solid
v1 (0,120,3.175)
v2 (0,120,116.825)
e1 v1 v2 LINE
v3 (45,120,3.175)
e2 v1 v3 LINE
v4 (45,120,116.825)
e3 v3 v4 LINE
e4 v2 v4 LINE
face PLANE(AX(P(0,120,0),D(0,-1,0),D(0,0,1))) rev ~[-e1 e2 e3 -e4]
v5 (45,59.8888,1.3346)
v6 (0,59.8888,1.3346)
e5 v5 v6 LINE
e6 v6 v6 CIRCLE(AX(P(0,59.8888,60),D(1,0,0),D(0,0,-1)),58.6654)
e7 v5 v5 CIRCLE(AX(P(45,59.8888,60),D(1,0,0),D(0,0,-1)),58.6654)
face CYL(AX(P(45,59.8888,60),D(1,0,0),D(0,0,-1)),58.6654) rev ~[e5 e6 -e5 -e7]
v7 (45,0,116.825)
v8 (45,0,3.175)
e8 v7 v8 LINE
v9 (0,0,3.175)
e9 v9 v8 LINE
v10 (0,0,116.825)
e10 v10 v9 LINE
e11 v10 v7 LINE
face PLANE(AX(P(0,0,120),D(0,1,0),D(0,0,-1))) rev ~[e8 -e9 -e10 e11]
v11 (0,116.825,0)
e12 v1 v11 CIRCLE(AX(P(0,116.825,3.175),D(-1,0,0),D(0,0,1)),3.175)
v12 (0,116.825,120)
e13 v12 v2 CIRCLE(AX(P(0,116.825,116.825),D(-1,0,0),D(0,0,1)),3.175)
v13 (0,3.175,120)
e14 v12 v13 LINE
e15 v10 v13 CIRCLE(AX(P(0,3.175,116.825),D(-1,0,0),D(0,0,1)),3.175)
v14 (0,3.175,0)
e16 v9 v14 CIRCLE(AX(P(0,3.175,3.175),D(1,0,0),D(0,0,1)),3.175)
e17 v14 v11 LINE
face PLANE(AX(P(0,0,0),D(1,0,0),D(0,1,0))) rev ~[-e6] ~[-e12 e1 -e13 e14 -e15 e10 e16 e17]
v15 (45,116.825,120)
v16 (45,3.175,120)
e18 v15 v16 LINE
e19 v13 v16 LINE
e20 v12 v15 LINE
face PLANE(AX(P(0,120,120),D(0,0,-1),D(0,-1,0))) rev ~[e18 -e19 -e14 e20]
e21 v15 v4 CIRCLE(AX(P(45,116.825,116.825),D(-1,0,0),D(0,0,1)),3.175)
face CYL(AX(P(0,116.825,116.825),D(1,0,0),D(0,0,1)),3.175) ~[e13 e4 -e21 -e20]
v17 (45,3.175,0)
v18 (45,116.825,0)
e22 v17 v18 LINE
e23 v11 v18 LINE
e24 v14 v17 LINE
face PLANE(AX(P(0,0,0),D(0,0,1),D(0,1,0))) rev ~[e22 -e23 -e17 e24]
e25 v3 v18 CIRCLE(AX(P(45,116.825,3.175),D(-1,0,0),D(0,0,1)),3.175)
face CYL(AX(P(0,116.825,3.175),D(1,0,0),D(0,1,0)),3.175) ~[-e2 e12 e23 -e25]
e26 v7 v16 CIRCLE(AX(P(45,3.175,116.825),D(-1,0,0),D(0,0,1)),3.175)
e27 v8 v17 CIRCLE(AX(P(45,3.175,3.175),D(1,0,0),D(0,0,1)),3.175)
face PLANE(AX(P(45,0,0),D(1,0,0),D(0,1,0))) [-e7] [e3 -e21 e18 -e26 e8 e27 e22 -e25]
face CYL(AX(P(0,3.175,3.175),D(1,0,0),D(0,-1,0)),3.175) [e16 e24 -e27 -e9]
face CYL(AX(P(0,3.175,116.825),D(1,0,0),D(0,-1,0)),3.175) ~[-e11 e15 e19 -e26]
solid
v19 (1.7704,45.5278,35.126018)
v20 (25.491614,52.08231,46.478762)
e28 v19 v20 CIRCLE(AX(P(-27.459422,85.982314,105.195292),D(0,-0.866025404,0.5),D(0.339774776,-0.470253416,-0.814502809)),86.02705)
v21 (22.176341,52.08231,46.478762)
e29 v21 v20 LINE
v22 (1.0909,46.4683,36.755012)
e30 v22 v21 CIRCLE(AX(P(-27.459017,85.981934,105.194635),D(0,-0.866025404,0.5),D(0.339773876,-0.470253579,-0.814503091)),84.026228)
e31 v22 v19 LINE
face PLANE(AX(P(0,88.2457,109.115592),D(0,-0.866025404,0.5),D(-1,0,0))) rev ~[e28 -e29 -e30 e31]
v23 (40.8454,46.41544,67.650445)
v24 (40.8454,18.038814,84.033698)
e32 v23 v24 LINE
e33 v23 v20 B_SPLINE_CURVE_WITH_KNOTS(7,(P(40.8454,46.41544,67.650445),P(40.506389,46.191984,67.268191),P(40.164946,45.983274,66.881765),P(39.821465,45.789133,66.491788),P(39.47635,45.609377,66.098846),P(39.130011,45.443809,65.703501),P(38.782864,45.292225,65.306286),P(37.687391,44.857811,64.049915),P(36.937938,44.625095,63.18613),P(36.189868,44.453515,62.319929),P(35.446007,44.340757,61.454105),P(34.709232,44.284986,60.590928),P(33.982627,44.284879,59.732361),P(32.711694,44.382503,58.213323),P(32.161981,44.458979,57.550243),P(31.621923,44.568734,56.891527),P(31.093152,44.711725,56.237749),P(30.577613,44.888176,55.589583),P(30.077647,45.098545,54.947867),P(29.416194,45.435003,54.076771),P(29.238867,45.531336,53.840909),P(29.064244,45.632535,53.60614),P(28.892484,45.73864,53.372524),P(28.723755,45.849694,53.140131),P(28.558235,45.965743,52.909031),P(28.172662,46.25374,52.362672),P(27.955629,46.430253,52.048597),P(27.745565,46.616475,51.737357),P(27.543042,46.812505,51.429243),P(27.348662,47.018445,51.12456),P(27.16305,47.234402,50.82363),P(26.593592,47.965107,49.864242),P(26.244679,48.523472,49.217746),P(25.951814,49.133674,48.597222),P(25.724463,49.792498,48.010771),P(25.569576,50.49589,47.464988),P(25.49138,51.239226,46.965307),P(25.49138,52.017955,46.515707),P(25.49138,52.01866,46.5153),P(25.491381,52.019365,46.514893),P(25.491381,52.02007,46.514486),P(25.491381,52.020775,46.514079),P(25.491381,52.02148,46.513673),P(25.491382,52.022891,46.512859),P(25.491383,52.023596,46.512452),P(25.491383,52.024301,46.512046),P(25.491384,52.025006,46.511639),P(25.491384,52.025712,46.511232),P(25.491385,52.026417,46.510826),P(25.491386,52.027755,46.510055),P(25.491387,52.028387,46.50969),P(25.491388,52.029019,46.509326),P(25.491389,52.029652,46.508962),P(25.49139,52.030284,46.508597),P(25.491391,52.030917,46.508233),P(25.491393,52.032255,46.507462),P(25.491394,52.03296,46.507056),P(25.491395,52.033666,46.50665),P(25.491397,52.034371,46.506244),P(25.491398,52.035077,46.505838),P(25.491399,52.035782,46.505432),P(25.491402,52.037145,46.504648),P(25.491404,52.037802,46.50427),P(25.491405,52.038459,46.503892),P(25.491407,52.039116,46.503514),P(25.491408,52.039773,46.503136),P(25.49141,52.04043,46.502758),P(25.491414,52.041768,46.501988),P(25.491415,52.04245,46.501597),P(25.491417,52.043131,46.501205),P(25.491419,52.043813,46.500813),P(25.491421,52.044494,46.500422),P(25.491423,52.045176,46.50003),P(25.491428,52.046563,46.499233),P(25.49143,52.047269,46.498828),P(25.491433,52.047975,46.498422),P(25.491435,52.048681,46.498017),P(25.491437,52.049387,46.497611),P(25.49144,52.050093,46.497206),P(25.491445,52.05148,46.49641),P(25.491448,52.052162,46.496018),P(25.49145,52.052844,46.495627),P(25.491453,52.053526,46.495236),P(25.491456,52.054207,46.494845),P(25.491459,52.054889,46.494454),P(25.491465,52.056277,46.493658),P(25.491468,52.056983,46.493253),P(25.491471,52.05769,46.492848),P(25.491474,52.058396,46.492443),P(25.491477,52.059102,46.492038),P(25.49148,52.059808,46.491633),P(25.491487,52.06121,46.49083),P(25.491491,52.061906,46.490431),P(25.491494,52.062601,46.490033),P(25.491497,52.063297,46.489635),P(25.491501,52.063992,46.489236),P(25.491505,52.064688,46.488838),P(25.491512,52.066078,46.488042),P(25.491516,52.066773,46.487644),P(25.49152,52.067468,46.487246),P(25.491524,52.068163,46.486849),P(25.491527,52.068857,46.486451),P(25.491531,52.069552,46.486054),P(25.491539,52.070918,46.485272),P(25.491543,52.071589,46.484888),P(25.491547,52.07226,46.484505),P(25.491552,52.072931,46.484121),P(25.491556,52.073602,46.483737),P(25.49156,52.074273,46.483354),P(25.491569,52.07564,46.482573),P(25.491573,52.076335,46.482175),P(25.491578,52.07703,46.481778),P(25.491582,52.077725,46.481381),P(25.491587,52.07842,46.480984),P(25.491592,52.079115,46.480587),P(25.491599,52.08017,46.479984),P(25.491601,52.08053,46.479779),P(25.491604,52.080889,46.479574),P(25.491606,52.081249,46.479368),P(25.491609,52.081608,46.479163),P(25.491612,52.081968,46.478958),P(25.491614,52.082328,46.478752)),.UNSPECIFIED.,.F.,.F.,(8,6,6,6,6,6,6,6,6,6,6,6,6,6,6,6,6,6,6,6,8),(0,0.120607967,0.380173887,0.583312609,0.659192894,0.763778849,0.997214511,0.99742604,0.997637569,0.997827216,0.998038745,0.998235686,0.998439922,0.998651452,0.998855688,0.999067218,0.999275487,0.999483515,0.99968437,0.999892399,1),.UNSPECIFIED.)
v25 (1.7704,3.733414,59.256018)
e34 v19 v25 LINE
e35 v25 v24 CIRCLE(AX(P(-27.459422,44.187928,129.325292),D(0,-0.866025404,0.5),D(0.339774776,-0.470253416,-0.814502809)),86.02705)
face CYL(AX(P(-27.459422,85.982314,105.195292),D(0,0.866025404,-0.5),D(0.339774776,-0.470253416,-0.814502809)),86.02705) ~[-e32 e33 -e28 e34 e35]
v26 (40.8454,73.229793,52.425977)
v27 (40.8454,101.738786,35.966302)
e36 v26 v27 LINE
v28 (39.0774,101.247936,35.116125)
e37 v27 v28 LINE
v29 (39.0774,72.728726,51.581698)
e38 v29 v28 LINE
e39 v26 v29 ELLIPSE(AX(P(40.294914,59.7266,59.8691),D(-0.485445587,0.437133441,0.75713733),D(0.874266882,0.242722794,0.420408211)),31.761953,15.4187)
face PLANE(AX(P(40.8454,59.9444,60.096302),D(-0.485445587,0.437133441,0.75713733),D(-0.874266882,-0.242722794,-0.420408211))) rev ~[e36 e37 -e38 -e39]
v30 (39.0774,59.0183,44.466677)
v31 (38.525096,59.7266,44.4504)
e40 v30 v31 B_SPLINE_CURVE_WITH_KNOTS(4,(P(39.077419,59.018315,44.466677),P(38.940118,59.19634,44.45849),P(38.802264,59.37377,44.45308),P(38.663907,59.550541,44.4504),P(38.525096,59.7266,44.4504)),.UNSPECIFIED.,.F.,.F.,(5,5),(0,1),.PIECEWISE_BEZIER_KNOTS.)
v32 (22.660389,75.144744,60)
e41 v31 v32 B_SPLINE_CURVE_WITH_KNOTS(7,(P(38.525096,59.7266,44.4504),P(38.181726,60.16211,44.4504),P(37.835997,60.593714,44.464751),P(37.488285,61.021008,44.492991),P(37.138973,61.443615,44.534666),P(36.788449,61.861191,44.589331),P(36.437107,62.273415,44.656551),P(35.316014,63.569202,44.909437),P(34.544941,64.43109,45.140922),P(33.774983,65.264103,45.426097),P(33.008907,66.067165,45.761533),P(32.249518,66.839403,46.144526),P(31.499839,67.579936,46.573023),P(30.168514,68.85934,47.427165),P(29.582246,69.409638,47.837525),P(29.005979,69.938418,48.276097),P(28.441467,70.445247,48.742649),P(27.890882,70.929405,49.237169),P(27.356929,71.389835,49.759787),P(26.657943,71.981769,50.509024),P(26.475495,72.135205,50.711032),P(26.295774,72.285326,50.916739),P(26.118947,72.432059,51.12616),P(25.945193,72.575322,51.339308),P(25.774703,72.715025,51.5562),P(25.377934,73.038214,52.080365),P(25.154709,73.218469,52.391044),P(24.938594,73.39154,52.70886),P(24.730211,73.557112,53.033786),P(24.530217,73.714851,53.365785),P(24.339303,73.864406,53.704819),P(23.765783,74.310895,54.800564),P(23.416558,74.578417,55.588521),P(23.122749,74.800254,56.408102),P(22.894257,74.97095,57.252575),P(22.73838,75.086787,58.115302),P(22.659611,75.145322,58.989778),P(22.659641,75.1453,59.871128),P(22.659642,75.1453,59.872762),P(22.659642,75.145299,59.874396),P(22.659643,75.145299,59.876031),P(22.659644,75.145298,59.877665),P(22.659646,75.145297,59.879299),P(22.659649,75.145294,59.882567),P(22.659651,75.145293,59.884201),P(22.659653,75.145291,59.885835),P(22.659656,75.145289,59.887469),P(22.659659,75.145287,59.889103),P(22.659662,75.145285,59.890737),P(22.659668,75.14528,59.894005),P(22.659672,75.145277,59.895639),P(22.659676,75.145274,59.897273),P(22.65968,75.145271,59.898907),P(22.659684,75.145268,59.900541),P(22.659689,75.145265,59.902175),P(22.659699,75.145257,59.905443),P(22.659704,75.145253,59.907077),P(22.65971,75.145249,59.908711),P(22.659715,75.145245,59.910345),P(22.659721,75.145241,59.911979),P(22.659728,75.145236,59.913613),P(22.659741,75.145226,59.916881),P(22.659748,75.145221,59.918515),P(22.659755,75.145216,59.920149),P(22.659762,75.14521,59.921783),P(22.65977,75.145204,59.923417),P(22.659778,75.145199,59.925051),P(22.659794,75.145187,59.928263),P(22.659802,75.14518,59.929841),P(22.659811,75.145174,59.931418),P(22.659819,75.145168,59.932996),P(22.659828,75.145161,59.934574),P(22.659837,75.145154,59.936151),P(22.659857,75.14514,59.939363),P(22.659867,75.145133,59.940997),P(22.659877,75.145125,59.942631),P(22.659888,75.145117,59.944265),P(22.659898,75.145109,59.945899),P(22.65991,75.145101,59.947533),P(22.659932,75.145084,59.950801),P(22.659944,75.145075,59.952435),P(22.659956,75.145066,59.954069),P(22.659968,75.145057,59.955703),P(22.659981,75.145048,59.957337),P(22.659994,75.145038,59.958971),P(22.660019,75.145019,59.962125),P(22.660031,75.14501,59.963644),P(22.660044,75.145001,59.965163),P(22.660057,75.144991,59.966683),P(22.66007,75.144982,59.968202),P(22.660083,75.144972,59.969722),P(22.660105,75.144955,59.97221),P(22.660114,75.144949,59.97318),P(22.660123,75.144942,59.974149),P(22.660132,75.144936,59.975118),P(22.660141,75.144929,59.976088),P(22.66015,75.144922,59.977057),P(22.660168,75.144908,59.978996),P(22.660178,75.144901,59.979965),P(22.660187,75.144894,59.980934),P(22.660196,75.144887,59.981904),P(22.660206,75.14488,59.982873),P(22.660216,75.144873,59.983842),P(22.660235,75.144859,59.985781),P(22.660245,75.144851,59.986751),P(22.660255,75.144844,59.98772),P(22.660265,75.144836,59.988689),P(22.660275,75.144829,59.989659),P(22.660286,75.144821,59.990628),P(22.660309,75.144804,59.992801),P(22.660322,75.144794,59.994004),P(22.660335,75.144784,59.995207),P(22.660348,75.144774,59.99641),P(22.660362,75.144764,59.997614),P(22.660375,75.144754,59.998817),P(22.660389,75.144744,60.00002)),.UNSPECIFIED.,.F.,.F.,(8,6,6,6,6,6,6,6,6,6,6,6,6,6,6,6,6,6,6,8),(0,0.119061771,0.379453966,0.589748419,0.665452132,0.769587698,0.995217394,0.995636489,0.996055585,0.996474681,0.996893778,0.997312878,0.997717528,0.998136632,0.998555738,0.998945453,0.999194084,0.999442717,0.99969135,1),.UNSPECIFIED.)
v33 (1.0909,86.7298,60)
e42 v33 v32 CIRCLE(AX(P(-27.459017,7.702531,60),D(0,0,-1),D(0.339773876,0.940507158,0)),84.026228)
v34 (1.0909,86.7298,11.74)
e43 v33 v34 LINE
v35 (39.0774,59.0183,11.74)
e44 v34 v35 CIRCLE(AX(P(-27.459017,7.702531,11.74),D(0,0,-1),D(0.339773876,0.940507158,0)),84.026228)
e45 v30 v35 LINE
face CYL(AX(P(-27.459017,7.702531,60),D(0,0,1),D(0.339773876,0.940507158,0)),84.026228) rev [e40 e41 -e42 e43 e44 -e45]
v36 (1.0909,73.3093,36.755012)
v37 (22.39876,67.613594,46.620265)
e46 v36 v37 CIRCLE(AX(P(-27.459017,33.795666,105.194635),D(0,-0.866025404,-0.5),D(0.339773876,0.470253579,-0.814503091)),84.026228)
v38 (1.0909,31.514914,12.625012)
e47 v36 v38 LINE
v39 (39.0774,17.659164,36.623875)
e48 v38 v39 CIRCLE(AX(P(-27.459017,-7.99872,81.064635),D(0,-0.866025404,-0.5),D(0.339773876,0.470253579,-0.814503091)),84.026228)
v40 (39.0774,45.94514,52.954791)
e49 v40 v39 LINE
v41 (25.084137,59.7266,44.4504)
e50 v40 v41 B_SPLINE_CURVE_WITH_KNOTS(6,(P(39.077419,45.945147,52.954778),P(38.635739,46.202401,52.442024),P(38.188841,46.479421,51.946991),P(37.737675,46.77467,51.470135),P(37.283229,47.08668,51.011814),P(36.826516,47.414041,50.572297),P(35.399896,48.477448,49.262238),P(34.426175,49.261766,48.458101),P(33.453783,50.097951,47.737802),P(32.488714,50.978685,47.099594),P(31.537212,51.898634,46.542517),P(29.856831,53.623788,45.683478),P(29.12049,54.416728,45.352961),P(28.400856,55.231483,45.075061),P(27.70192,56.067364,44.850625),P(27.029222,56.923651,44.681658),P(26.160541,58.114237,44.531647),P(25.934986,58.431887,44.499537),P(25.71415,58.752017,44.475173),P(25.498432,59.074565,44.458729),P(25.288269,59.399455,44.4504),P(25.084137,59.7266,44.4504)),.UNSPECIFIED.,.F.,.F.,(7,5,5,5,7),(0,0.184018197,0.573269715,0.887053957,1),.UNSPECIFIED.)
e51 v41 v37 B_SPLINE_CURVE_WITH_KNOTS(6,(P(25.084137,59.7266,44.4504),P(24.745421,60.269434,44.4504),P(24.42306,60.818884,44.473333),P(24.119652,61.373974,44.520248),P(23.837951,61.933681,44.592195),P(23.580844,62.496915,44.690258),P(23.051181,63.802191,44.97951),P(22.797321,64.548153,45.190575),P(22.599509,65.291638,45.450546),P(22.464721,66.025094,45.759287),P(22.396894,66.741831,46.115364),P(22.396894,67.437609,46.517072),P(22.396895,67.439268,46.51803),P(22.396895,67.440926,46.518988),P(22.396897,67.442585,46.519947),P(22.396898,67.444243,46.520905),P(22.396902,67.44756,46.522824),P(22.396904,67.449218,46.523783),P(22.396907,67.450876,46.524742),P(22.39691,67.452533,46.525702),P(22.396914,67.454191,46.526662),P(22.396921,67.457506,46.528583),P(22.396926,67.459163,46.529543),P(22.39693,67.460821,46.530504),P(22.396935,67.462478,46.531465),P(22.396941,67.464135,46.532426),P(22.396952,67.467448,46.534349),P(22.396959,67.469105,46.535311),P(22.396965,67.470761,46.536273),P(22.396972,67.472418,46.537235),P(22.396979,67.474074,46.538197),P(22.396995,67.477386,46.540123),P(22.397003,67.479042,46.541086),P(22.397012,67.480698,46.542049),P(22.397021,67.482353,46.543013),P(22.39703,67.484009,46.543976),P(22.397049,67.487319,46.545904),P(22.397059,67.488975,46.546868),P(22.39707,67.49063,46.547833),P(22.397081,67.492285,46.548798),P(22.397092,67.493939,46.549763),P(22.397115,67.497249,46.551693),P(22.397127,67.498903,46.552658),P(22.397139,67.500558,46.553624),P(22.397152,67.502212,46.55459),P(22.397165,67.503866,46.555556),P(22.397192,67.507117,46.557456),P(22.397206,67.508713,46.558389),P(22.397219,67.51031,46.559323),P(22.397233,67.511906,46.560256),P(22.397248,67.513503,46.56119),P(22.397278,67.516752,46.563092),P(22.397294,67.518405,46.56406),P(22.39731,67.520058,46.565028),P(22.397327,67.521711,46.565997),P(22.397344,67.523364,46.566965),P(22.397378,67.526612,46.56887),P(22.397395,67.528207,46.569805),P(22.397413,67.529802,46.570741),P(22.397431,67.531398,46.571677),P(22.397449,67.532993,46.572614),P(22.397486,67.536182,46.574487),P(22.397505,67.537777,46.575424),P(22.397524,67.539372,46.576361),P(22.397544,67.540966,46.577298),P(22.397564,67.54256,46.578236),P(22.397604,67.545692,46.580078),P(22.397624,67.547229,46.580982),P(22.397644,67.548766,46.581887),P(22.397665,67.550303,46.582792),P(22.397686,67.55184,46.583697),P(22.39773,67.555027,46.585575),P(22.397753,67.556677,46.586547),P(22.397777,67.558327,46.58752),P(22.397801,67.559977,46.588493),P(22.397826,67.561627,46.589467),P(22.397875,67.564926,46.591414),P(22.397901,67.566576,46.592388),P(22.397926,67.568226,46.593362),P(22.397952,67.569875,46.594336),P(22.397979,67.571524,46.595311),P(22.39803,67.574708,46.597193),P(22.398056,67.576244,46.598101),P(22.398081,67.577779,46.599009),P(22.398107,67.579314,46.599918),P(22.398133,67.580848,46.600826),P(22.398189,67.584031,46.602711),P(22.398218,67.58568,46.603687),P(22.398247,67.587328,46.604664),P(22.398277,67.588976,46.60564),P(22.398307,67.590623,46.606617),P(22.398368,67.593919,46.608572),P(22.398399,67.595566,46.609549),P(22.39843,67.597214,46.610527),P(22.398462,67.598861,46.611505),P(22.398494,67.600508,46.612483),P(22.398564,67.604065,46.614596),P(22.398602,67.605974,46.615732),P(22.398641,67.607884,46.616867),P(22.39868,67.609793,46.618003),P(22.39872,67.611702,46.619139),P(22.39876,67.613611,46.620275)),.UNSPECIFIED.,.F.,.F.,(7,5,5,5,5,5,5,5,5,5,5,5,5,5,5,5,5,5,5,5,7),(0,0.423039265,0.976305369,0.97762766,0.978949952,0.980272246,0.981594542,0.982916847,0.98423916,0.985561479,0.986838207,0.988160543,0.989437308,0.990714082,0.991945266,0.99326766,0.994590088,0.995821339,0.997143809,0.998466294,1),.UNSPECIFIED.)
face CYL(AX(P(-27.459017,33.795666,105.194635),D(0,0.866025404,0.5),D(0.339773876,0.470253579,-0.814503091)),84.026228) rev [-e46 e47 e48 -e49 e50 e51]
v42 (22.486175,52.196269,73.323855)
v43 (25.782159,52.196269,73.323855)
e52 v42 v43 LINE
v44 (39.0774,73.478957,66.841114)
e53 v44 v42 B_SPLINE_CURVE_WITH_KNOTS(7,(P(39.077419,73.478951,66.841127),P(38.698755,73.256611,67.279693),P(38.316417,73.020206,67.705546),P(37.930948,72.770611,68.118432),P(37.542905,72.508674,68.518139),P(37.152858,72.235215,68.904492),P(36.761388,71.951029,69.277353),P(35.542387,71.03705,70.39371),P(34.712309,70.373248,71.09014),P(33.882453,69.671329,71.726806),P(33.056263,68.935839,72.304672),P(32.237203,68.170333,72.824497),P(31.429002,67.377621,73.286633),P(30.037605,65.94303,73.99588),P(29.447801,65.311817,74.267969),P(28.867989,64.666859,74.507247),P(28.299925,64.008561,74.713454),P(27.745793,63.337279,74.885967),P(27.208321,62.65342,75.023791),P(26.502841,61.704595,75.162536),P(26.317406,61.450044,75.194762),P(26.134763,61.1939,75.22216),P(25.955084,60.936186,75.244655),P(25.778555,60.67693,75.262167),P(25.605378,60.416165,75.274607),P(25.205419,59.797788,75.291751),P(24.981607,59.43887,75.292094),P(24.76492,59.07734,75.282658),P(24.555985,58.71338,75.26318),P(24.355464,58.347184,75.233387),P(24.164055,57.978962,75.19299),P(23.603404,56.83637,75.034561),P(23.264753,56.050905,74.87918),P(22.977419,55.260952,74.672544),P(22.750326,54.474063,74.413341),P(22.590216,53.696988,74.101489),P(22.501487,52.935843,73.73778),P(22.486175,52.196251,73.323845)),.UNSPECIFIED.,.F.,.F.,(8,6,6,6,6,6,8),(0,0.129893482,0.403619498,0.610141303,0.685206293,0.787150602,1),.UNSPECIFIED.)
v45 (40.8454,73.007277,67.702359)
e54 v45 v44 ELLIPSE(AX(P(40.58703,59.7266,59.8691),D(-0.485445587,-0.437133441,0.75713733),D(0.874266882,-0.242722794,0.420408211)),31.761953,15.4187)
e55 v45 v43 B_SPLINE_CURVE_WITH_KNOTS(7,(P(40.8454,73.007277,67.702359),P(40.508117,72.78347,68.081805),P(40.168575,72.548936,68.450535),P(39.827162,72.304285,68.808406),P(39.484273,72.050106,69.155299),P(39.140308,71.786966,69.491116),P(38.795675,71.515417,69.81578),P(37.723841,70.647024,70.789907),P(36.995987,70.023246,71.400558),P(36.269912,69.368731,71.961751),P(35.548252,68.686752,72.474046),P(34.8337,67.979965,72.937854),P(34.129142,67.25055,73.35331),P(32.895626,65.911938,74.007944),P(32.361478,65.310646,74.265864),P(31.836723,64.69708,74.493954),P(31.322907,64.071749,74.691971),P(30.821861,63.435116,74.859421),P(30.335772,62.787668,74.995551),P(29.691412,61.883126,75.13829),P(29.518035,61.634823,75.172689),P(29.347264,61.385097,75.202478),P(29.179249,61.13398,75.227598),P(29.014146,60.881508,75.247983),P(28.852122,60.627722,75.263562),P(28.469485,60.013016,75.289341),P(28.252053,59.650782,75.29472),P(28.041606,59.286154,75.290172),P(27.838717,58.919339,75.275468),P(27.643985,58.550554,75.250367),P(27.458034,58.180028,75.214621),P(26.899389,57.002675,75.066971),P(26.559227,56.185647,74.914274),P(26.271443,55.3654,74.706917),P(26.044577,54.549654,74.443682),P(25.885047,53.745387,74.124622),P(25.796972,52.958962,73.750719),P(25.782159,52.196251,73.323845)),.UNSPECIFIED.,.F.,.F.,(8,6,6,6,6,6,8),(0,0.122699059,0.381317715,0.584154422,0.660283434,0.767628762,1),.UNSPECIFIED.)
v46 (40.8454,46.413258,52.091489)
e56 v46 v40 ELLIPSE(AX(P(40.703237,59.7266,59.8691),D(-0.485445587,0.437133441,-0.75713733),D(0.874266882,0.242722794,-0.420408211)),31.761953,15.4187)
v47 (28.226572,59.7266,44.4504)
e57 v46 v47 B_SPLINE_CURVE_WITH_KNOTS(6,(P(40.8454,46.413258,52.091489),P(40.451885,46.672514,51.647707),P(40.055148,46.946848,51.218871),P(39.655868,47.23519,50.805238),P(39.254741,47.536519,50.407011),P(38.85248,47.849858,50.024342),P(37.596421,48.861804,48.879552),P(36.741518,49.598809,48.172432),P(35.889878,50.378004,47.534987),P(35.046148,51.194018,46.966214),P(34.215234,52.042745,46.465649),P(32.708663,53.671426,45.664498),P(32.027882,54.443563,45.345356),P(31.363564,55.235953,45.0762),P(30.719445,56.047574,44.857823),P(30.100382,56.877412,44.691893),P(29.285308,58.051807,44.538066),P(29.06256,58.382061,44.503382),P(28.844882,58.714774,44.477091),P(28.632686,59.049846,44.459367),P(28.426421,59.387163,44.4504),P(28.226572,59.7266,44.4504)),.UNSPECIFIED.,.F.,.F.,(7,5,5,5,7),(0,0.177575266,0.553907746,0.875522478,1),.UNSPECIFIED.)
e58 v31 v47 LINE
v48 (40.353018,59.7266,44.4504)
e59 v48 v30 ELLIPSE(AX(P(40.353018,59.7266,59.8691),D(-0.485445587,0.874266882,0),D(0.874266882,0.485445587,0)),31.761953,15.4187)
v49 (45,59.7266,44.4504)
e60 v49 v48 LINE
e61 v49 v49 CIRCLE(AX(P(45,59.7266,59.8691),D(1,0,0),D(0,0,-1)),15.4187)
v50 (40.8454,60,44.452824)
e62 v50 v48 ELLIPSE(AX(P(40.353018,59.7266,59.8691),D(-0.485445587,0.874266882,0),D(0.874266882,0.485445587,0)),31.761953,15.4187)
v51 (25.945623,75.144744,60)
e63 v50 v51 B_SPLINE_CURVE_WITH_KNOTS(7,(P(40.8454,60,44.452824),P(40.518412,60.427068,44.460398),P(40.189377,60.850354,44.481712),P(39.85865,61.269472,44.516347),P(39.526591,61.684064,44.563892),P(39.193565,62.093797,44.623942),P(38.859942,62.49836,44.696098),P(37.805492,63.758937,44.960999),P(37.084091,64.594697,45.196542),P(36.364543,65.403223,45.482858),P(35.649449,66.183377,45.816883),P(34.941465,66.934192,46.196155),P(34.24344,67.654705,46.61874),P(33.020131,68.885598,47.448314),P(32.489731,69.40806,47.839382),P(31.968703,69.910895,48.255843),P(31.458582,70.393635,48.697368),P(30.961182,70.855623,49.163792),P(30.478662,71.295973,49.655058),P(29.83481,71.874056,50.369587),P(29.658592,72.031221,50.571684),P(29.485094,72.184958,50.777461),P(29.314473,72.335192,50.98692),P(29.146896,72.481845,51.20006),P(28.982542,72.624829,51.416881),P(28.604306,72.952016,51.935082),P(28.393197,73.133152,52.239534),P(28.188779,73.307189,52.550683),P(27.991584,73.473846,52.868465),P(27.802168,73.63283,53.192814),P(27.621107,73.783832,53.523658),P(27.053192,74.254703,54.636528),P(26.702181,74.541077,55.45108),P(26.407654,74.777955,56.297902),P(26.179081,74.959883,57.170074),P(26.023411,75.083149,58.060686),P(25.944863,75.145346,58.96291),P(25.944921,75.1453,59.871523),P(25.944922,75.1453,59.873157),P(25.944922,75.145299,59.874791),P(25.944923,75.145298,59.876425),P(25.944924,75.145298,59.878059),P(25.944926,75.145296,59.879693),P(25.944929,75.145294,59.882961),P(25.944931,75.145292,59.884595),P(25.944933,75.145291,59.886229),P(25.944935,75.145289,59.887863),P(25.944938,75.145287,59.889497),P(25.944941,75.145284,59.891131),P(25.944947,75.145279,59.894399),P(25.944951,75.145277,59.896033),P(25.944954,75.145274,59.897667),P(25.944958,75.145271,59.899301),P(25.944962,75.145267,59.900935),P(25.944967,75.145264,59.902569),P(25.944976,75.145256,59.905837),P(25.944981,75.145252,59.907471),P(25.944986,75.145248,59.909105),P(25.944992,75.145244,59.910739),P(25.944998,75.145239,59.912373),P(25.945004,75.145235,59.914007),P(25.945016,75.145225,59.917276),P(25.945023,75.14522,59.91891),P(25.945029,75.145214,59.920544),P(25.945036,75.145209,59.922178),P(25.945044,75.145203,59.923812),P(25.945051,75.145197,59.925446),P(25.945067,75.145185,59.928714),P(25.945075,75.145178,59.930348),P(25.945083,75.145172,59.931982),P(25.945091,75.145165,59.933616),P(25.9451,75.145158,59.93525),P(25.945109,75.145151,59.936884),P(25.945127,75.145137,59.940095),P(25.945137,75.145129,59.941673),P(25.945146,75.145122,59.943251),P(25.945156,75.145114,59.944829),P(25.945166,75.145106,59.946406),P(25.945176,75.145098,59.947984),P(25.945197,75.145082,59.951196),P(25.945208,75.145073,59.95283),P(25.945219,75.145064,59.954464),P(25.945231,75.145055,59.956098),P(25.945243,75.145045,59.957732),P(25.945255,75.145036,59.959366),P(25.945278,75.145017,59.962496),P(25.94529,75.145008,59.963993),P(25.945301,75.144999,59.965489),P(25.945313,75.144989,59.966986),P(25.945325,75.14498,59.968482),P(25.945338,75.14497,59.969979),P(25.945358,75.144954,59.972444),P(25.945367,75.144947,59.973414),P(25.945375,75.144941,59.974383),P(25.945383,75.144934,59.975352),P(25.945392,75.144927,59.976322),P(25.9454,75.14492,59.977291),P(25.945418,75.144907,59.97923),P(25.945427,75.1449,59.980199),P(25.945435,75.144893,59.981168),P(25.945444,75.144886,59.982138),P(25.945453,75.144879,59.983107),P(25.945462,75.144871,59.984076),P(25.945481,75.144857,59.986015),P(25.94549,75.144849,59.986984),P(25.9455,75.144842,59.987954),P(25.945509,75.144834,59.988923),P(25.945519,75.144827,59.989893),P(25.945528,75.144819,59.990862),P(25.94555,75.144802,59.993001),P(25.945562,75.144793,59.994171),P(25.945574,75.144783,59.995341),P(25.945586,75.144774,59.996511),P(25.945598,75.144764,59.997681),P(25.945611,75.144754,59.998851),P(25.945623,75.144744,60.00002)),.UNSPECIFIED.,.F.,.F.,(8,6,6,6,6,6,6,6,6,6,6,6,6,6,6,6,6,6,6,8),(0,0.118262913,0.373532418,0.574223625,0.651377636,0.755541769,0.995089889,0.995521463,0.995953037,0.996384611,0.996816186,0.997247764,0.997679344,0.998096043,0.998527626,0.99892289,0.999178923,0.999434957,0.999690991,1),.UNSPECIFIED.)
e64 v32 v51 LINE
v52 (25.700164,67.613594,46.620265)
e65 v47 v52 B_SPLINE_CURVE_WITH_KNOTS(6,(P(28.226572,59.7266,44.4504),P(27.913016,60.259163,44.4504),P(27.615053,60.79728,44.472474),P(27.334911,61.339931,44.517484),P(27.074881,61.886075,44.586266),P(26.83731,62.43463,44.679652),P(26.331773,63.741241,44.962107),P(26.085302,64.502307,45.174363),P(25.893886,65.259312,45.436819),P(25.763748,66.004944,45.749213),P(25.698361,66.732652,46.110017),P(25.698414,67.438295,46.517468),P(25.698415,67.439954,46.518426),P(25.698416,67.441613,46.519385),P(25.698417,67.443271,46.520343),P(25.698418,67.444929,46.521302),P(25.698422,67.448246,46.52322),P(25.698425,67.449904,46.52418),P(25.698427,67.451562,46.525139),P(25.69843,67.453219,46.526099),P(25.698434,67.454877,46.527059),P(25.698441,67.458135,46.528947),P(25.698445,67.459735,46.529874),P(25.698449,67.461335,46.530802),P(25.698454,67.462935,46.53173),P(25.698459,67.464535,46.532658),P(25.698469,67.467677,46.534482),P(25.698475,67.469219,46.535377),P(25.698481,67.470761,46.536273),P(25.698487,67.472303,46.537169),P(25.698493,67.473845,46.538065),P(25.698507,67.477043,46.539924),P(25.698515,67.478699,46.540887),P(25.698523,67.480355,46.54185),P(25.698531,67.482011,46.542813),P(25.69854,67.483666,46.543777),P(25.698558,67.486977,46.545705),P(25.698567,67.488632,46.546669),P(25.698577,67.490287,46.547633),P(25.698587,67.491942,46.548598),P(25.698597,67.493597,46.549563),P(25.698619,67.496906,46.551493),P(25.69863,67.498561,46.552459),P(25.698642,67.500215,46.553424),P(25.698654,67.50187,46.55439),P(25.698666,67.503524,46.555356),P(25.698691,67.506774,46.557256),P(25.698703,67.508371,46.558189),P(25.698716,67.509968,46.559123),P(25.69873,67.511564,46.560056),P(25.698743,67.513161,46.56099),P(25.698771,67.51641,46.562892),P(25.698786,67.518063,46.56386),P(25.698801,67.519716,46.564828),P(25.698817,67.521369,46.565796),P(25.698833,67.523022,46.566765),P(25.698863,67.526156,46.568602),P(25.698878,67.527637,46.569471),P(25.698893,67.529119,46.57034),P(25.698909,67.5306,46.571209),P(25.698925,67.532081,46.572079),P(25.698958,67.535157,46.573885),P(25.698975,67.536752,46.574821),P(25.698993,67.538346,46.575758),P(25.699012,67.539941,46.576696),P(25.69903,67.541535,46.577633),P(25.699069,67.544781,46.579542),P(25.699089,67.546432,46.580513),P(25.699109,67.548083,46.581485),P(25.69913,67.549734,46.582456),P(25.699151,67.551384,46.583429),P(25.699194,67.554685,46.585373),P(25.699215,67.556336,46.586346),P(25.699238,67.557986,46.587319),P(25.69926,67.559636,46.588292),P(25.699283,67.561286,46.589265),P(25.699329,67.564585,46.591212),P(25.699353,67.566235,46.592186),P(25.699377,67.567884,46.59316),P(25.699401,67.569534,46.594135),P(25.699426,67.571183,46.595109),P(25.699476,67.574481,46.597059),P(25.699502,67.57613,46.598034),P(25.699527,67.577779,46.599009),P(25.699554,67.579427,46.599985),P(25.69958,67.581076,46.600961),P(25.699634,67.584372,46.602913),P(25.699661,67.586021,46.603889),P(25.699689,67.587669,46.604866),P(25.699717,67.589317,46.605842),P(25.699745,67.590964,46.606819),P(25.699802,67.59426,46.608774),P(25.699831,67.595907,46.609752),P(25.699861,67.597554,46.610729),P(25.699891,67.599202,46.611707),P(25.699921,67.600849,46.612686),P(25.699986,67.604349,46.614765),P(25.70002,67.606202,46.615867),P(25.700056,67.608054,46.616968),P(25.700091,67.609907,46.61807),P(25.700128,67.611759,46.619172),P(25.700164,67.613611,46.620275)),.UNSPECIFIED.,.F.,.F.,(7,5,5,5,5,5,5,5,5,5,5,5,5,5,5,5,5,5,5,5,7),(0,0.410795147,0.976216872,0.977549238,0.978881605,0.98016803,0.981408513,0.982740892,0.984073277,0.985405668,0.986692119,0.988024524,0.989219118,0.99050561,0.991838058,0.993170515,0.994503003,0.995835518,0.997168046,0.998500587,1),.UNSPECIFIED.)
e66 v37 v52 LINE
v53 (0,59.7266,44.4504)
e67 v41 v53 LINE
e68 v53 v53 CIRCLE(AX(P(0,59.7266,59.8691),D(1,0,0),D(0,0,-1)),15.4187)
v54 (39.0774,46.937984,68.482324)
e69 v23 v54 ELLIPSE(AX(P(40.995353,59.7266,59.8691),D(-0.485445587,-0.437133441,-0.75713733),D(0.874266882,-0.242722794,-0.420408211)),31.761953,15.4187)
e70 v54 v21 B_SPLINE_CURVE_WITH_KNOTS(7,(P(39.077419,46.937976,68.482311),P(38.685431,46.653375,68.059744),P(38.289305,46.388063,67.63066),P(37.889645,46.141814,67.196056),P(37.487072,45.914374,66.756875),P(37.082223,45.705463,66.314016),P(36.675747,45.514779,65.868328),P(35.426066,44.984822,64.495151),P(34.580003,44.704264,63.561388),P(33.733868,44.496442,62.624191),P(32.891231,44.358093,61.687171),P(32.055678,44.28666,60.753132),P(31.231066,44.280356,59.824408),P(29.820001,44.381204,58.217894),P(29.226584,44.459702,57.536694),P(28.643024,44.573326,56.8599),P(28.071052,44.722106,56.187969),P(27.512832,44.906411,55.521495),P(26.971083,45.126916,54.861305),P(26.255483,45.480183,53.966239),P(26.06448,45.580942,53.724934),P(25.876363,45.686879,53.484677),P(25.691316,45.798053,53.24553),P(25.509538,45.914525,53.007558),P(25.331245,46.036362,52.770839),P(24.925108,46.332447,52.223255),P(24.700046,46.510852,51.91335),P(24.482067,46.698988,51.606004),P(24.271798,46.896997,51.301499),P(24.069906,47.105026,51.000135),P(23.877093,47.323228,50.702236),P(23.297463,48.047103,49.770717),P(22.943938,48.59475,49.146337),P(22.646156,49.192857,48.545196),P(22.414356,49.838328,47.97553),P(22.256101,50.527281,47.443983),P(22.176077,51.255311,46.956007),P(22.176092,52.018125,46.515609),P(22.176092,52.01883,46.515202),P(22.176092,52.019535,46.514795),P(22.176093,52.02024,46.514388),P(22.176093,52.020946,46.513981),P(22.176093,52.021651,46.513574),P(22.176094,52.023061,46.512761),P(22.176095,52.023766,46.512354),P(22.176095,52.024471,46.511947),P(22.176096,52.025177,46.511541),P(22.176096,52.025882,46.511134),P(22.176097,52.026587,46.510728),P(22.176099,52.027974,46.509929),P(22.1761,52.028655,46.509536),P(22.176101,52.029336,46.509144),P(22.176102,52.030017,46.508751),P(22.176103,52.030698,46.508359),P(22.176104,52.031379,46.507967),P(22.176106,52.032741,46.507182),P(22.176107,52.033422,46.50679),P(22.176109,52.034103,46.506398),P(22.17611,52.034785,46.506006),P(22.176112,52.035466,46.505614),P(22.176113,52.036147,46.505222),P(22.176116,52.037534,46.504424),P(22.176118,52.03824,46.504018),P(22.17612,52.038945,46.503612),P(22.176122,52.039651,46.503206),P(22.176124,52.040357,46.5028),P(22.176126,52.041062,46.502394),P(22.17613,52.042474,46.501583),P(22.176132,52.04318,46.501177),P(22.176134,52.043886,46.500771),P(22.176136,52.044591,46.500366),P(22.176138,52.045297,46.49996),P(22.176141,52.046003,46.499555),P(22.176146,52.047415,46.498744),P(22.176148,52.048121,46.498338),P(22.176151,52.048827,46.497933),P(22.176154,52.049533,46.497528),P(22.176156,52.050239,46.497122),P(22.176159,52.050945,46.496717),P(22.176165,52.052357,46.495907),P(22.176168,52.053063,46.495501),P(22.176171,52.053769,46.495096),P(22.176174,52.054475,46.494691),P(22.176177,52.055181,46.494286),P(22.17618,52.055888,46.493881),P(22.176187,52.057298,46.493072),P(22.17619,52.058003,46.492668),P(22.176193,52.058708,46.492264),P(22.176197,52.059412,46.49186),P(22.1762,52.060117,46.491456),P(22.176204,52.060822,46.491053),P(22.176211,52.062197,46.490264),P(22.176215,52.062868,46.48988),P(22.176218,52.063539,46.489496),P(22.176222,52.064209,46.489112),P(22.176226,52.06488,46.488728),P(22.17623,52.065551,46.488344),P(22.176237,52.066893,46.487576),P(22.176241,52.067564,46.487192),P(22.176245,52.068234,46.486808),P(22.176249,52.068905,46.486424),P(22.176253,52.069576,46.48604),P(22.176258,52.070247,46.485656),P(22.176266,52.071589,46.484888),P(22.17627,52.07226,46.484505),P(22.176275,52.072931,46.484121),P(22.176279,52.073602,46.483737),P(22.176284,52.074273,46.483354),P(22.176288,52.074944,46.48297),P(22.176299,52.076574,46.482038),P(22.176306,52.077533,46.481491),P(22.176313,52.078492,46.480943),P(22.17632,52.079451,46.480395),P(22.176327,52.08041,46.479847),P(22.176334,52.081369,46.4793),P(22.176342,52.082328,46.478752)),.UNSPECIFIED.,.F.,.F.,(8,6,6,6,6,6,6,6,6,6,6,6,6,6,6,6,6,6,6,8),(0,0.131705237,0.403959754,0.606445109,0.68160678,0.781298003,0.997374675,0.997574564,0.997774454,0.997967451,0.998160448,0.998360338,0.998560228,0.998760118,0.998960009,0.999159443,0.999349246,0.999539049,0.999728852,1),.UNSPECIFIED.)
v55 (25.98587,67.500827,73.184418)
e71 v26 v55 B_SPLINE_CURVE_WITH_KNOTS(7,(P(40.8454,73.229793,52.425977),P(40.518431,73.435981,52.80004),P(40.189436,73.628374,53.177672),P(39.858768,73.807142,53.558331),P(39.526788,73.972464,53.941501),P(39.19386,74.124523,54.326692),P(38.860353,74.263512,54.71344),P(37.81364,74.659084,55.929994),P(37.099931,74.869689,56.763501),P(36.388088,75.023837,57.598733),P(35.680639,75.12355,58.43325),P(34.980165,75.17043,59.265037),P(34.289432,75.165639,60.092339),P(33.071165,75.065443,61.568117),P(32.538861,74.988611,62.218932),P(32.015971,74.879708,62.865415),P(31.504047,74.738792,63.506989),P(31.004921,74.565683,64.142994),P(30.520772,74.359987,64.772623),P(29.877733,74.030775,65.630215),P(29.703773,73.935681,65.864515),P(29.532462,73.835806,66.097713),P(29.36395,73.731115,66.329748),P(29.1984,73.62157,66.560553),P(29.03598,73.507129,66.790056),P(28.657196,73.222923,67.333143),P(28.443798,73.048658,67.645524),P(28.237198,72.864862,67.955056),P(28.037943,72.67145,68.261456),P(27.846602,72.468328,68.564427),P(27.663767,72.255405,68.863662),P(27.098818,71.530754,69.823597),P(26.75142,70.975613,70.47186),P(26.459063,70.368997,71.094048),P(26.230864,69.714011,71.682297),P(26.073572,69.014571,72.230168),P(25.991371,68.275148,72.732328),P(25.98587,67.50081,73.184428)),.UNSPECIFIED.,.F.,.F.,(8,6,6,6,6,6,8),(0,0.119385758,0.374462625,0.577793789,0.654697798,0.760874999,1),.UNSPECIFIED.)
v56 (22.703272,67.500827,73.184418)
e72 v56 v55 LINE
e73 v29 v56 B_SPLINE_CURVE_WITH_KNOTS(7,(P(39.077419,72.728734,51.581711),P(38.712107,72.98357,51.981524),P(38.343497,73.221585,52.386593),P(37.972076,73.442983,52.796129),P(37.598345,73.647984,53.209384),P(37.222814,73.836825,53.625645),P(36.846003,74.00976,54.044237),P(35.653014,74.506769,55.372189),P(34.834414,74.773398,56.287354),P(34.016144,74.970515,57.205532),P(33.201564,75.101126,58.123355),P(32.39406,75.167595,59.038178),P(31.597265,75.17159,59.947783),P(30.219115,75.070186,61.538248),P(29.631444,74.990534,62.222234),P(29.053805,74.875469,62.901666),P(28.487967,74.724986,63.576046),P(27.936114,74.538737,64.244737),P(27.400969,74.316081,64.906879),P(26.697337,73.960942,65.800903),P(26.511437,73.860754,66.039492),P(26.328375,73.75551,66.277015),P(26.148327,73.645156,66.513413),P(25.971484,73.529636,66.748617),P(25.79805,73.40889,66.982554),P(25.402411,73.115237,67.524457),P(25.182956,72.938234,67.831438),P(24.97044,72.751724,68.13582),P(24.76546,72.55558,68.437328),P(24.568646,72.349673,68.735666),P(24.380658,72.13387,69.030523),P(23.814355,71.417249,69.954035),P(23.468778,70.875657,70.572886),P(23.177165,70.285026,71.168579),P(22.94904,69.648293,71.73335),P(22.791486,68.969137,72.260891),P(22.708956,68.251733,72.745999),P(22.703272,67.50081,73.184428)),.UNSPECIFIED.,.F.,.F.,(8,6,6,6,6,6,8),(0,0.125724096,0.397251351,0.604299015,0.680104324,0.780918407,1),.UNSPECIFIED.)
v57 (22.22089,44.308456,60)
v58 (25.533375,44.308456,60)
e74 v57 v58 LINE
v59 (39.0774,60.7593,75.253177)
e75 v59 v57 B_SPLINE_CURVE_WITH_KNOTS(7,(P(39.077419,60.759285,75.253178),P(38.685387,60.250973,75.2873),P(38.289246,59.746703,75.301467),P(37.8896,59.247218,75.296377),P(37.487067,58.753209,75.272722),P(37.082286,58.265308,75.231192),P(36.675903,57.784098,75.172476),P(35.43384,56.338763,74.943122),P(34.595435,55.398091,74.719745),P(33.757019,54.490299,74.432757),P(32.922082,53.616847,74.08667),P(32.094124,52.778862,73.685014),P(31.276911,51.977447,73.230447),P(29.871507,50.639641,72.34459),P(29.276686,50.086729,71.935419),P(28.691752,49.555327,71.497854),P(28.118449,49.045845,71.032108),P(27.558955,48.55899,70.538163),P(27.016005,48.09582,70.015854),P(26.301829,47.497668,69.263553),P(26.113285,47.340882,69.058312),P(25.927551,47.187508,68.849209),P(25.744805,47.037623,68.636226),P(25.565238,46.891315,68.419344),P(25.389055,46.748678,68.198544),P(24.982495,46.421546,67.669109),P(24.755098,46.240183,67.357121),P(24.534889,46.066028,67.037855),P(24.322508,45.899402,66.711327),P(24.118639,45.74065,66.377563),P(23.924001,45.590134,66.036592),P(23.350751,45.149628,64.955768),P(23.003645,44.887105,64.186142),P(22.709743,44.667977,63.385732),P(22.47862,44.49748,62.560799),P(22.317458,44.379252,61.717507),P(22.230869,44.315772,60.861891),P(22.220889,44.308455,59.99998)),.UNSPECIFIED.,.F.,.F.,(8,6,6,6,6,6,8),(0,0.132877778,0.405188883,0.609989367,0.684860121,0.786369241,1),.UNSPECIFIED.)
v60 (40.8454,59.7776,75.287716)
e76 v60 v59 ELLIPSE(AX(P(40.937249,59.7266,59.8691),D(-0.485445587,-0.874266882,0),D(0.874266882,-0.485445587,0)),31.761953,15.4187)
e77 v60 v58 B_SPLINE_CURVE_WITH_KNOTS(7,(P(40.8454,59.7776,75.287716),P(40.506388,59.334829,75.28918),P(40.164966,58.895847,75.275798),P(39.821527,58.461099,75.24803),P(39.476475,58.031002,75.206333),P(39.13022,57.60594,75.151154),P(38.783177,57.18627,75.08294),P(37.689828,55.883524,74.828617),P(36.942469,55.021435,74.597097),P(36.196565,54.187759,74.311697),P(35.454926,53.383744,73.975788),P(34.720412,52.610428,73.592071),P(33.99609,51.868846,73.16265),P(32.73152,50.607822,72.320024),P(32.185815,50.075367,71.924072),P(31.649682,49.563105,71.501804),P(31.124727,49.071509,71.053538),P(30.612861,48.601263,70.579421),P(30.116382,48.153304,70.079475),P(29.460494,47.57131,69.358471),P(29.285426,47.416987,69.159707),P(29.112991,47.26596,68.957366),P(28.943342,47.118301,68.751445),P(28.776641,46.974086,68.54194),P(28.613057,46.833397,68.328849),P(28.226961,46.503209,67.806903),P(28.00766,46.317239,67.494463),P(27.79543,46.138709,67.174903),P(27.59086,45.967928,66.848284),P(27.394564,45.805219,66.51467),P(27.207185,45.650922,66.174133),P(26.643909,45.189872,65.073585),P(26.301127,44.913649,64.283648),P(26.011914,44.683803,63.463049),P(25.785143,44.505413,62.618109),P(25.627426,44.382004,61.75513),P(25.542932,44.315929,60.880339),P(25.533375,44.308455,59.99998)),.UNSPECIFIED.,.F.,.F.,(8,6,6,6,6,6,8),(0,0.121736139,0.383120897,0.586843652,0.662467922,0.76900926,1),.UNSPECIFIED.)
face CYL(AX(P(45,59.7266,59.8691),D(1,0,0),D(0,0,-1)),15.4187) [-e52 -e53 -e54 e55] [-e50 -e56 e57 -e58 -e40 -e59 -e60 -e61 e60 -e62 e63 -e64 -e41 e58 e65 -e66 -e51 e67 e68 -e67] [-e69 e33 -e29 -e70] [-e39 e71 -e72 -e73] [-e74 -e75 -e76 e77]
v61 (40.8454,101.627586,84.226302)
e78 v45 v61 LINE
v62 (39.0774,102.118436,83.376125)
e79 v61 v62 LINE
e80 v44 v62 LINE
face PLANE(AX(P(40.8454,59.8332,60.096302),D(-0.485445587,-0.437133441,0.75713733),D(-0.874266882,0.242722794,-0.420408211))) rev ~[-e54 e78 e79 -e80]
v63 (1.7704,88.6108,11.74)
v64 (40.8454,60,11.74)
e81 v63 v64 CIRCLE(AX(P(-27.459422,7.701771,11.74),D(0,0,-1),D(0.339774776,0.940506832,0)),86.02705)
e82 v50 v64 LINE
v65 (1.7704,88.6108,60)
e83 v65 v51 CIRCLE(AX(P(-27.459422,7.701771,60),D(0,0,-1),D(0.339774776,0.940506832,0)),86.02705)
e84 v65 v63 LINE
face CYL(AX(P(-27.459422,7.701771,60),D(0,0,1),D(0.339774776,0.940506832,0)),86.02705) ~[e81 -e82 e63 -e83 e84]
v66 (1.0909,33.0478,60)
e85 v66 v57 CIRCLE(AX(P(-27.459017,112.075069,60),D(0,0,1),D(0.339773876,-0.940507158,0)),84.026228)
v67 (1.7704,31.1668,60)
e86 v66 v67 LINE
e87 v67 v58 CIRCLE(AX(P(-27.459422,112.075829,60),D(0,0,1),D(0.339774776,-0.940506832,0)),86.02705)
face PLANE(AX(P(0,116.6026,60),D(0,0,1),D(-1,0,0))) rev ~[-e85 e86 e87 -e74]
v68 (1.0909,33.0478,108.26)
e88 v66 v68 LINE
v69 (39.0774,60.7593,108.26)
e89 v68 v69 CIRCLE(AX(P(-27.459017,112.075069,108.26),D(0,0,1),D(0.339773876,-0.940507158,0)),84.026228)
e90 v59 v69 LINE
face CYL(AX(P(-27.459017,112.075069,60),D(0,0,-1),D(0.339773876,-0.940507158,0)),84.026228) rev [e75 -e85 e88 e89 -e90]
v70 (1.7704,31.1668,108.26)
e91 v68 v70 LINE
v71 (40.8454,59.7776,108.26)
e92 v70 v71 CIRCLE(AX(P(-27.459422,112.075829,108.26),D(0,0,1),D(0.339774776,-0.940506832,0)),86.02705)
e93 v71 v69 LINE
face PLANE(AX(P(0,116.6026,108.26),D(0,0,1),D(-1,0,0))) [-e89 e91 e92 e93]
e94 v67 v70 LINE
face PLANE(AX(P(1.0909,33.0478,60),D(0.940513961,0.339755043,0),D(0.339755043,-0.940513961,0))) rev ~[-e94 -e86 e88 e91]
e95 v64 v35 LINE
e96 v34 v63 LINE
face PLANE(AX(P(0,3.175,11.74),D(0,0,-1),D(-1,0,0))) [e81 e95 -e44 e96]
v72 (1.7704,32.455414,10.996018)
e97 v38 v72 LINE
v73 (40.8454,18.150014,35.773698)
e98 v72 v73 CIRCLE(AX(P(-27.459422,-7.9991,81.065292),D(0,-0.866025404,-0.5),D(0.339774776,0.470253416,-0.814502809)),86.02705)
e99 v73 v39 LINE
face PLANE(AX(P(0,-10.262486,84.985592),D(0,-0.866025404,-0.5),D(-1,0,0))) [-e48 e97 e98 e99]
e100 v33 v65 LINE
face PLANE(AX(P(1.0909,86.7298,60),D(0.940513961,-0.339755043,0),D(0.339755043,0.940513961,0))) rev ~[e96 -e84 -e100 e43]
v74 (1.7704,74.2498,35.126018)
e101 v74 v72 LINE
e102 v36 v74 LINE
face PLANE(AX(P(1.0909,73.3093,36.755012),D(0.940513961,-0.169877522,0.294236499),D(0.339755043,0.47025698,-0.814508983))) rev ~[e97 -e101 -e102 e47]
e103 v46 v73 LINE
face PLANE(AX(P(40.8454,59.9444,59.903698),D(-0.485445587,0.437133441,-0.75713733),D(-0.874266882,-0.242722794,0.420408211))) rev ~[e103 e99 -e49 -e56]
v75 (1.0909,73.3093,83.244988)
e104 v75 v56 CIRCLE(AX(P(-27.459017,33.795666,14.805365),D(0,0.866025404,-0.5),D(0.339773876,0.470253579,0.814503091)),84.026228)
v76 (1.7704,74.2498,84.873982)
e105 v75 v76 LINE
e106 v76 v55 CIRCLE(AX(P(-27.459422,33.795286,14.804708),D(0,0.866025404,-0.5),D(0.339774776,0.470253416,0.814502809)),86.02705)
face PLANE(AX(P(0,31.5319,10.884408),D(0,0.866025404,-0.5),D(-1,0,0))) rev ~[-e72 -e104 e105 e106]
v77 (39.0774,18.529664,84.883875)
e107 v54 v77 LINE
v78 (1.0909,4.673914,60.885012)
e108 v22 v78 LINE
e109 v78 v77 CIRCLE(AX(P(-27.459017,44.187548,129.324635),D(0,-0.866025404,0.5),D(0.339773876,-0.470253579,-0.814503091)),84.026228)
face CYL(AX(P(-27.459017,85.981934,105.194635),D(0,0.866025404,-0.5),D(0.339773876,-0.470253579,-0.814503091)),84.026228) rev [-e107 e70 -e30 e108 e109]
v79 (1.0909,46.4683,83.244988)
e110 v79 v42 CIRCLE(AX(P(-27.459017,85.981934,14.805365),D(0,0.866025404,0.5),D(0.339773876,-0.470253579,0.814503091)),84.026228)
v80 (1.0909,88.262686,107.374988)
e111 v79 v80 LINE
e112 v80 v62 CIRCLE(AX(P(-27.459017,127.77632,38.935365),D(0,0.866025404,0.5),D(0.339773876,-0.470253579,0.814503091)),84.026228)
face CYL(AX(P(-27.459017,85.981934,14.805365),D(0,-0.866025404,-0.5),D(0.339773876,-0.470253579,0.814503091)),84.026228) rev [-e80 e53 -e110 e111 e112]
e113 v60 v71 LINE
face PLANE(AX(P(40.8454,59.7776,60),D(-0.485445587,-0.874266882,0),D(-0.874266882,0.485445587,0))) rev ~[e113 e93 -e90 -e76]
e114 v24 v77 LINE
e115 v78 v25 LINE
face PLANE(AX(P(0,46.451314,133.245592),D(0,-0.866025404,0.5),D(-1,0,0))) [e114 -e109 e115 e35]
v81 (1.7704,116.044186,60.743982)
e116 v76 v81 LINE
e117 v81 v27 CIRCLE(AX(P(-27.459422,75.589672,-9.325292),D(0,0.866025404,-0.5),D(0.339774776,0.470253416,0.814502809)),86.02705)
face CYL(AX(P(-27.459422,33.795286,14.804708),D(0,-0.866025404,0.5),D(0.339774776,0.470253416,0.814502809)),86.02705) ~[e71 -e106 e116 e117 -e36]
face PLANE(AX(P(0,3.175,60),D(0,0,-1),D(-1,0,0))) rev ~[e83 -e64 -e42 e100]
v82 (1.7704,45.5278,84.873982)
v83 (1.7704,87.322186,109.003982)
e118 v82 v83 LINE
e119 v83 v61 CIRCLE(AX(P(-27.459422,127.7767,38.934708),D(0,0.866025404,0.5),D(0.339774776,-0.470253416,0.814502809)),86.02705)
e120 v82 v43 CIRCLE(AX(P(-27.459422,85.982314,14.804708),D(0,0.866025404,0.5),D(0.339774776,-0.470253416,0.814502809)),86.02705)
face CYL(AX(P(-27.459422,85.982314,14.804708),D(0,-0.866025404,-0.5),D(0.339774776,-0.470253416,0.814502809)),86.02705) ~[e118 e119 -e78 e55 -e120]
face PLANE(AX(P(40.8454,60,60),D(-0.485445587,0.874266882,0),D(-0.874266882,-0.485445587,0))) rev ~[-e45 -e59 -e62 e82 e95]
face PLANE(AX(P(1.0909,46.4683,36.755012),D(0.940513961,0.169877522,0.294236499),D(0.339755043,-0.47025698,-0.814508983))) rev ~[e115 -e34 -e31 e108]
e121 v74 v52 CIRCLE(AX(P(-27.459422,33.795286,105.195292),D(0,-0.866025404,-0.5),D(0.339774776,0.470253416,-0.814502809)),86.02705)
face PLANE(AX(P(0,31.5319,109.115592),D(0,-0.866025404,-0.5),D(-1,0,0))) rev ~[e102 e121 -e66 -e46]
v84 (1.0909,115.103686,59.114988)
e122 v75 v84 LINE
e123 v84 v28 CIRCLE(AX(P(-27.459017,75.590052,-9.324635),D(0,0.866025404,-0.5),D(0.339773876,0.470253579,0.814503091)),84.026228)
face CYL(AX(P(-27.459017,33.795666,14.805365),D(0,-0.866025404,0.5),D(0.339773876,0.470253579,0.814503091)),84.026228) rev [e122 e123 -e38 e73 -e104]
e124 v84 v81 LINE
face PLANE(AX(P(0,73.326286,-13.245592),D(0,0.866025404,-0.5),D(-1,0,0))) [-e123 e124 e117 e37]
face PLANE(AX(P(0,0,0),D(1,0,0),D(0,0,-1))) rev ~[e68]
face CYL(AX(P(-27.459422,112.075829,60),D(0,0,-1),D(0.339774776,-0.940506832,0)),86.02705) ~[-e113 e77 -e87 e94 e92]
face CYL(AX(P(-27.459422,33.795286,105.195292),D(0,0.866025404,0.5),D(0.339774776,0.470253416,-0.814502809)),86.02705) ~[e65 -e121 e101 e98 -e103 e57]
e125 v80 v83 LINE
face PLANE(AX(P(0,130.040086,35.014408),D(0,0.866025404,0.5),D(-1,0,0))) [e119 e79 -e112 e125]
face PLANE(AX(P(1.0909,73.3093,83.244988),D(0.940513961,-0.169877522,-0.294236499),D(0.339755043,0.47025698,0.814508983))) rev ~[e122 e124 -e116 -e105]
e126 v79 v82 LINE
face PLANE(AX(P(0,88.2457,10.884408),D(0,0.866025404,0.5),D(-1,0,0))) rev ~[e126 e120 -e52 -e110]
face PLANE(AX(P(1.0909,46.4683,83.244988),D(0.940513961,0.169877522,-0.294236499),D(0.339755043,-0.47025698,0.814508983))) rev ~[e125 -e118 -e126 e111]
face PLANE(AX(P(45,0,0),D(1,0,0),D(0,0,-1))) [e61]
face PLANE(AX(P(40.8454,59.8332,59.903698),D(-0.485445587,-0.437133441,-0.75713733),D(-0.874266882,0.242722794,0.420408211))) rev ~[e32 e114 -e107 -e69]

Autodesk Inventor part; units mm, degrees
ref_plane "YZ Plane" through (0, 0, 0) normal (1, 0, 0) x (0, 1, 0)
ref_plane "XZ Plane" through (0, 0, 0) normal (0, 1, 0) x (-1, 0, 0)
ref_plane "XY Plane" through (0, 0, 0) normal (0, 0, 1) x (1, 0, 0)
sketch "Sketch1" plane through (0, 0, 0) normal (1, 0, 0) x (0, 1, 0)
  line L0 (0, 0) -> (120, 0)
  line L1 (120, 0) -> (120, 120)
  line L2 (120, 120) -> (0, 120)
  line L3 (0, 120) -> (0, 0)
  dimension "d0" = 120
  dimension "d1" = 120
extrude "Extrusion1" add sketch "Sketch1" along normal blind 45
fillet "Fillet1" radius 3.175 4 edges at (22.5, 120, 120) (22.5, 120, 0) (22.5, 0, 120) (22.5, 0, 0)
sketch "Sketch2" plane through (45, 0, 0) normal (1, 0, 0) x (0, 0, -1)
  line L0 (-60, 60) -> (-60, 59.8888)
  circle A0 centre (-60, 59.8888) radius 58.6654
  point P0 (0, 0)
extrude "Extrusion2" cut sketch "Sketch2" against normal blind 45
ref_plane "Work Plane1" through (0, 3.175, 60) normal (0, 0, -1) x (-1, 0, 0)
sketch "Sketch3" plane through (0, 3.175, 60) normal (0, 0, -1) x (-1, 0, 0)
  arc A0 (-1.7704, 85.4358) -> (-40.8454, 56.825) centre (27.4593, 4.527) ccw
  arc A1 (-1.0909, 83.5548) -> (-39.2574, 55.6091) centre (27.4593, 4.527) ccw
  line L0 (-40.8454, 56.825) -> (-39.0774, 55.8433)
  line L1 (-1.0909, 83.5548) -> (-1.7704, 85.4358)
  point P0 (0, -3.175)
  dimension "d8" = 2
extrude "Extrusion3" add sketch "Sketch3" along normal blind 48.26
sketch "Sketch4" plane through (0, 3.175, 60) normal (0, 0, -1) x (-1, 0, 0)
  arc A0 (-1.7704, 85.4358) -> (-40.8454, 56.825) centre (27.4593, 4.527) ccw projected
  line L0 (-40.8454, 56.825) -> (-4.8465, 56.825)
  point P0 (0, -3.175)
pattern_circular "Circular Pattern1" count 6 over 360 about axis through (45, 59.8888, 60) along (-1, 0, 0) of "Extrusion3"
sketch "Sketch5" plane through (45, 0, 0) normal (1, 0, 0) x (0, 0, -1)
  circle A0 centre (-59.8691, 59.7266) radius 15.4187
  point P0 (0, 0)
extrude "Extrusion4" add sketch "Sketch5" against normal blind 45
properties part number "radiator_fan"
